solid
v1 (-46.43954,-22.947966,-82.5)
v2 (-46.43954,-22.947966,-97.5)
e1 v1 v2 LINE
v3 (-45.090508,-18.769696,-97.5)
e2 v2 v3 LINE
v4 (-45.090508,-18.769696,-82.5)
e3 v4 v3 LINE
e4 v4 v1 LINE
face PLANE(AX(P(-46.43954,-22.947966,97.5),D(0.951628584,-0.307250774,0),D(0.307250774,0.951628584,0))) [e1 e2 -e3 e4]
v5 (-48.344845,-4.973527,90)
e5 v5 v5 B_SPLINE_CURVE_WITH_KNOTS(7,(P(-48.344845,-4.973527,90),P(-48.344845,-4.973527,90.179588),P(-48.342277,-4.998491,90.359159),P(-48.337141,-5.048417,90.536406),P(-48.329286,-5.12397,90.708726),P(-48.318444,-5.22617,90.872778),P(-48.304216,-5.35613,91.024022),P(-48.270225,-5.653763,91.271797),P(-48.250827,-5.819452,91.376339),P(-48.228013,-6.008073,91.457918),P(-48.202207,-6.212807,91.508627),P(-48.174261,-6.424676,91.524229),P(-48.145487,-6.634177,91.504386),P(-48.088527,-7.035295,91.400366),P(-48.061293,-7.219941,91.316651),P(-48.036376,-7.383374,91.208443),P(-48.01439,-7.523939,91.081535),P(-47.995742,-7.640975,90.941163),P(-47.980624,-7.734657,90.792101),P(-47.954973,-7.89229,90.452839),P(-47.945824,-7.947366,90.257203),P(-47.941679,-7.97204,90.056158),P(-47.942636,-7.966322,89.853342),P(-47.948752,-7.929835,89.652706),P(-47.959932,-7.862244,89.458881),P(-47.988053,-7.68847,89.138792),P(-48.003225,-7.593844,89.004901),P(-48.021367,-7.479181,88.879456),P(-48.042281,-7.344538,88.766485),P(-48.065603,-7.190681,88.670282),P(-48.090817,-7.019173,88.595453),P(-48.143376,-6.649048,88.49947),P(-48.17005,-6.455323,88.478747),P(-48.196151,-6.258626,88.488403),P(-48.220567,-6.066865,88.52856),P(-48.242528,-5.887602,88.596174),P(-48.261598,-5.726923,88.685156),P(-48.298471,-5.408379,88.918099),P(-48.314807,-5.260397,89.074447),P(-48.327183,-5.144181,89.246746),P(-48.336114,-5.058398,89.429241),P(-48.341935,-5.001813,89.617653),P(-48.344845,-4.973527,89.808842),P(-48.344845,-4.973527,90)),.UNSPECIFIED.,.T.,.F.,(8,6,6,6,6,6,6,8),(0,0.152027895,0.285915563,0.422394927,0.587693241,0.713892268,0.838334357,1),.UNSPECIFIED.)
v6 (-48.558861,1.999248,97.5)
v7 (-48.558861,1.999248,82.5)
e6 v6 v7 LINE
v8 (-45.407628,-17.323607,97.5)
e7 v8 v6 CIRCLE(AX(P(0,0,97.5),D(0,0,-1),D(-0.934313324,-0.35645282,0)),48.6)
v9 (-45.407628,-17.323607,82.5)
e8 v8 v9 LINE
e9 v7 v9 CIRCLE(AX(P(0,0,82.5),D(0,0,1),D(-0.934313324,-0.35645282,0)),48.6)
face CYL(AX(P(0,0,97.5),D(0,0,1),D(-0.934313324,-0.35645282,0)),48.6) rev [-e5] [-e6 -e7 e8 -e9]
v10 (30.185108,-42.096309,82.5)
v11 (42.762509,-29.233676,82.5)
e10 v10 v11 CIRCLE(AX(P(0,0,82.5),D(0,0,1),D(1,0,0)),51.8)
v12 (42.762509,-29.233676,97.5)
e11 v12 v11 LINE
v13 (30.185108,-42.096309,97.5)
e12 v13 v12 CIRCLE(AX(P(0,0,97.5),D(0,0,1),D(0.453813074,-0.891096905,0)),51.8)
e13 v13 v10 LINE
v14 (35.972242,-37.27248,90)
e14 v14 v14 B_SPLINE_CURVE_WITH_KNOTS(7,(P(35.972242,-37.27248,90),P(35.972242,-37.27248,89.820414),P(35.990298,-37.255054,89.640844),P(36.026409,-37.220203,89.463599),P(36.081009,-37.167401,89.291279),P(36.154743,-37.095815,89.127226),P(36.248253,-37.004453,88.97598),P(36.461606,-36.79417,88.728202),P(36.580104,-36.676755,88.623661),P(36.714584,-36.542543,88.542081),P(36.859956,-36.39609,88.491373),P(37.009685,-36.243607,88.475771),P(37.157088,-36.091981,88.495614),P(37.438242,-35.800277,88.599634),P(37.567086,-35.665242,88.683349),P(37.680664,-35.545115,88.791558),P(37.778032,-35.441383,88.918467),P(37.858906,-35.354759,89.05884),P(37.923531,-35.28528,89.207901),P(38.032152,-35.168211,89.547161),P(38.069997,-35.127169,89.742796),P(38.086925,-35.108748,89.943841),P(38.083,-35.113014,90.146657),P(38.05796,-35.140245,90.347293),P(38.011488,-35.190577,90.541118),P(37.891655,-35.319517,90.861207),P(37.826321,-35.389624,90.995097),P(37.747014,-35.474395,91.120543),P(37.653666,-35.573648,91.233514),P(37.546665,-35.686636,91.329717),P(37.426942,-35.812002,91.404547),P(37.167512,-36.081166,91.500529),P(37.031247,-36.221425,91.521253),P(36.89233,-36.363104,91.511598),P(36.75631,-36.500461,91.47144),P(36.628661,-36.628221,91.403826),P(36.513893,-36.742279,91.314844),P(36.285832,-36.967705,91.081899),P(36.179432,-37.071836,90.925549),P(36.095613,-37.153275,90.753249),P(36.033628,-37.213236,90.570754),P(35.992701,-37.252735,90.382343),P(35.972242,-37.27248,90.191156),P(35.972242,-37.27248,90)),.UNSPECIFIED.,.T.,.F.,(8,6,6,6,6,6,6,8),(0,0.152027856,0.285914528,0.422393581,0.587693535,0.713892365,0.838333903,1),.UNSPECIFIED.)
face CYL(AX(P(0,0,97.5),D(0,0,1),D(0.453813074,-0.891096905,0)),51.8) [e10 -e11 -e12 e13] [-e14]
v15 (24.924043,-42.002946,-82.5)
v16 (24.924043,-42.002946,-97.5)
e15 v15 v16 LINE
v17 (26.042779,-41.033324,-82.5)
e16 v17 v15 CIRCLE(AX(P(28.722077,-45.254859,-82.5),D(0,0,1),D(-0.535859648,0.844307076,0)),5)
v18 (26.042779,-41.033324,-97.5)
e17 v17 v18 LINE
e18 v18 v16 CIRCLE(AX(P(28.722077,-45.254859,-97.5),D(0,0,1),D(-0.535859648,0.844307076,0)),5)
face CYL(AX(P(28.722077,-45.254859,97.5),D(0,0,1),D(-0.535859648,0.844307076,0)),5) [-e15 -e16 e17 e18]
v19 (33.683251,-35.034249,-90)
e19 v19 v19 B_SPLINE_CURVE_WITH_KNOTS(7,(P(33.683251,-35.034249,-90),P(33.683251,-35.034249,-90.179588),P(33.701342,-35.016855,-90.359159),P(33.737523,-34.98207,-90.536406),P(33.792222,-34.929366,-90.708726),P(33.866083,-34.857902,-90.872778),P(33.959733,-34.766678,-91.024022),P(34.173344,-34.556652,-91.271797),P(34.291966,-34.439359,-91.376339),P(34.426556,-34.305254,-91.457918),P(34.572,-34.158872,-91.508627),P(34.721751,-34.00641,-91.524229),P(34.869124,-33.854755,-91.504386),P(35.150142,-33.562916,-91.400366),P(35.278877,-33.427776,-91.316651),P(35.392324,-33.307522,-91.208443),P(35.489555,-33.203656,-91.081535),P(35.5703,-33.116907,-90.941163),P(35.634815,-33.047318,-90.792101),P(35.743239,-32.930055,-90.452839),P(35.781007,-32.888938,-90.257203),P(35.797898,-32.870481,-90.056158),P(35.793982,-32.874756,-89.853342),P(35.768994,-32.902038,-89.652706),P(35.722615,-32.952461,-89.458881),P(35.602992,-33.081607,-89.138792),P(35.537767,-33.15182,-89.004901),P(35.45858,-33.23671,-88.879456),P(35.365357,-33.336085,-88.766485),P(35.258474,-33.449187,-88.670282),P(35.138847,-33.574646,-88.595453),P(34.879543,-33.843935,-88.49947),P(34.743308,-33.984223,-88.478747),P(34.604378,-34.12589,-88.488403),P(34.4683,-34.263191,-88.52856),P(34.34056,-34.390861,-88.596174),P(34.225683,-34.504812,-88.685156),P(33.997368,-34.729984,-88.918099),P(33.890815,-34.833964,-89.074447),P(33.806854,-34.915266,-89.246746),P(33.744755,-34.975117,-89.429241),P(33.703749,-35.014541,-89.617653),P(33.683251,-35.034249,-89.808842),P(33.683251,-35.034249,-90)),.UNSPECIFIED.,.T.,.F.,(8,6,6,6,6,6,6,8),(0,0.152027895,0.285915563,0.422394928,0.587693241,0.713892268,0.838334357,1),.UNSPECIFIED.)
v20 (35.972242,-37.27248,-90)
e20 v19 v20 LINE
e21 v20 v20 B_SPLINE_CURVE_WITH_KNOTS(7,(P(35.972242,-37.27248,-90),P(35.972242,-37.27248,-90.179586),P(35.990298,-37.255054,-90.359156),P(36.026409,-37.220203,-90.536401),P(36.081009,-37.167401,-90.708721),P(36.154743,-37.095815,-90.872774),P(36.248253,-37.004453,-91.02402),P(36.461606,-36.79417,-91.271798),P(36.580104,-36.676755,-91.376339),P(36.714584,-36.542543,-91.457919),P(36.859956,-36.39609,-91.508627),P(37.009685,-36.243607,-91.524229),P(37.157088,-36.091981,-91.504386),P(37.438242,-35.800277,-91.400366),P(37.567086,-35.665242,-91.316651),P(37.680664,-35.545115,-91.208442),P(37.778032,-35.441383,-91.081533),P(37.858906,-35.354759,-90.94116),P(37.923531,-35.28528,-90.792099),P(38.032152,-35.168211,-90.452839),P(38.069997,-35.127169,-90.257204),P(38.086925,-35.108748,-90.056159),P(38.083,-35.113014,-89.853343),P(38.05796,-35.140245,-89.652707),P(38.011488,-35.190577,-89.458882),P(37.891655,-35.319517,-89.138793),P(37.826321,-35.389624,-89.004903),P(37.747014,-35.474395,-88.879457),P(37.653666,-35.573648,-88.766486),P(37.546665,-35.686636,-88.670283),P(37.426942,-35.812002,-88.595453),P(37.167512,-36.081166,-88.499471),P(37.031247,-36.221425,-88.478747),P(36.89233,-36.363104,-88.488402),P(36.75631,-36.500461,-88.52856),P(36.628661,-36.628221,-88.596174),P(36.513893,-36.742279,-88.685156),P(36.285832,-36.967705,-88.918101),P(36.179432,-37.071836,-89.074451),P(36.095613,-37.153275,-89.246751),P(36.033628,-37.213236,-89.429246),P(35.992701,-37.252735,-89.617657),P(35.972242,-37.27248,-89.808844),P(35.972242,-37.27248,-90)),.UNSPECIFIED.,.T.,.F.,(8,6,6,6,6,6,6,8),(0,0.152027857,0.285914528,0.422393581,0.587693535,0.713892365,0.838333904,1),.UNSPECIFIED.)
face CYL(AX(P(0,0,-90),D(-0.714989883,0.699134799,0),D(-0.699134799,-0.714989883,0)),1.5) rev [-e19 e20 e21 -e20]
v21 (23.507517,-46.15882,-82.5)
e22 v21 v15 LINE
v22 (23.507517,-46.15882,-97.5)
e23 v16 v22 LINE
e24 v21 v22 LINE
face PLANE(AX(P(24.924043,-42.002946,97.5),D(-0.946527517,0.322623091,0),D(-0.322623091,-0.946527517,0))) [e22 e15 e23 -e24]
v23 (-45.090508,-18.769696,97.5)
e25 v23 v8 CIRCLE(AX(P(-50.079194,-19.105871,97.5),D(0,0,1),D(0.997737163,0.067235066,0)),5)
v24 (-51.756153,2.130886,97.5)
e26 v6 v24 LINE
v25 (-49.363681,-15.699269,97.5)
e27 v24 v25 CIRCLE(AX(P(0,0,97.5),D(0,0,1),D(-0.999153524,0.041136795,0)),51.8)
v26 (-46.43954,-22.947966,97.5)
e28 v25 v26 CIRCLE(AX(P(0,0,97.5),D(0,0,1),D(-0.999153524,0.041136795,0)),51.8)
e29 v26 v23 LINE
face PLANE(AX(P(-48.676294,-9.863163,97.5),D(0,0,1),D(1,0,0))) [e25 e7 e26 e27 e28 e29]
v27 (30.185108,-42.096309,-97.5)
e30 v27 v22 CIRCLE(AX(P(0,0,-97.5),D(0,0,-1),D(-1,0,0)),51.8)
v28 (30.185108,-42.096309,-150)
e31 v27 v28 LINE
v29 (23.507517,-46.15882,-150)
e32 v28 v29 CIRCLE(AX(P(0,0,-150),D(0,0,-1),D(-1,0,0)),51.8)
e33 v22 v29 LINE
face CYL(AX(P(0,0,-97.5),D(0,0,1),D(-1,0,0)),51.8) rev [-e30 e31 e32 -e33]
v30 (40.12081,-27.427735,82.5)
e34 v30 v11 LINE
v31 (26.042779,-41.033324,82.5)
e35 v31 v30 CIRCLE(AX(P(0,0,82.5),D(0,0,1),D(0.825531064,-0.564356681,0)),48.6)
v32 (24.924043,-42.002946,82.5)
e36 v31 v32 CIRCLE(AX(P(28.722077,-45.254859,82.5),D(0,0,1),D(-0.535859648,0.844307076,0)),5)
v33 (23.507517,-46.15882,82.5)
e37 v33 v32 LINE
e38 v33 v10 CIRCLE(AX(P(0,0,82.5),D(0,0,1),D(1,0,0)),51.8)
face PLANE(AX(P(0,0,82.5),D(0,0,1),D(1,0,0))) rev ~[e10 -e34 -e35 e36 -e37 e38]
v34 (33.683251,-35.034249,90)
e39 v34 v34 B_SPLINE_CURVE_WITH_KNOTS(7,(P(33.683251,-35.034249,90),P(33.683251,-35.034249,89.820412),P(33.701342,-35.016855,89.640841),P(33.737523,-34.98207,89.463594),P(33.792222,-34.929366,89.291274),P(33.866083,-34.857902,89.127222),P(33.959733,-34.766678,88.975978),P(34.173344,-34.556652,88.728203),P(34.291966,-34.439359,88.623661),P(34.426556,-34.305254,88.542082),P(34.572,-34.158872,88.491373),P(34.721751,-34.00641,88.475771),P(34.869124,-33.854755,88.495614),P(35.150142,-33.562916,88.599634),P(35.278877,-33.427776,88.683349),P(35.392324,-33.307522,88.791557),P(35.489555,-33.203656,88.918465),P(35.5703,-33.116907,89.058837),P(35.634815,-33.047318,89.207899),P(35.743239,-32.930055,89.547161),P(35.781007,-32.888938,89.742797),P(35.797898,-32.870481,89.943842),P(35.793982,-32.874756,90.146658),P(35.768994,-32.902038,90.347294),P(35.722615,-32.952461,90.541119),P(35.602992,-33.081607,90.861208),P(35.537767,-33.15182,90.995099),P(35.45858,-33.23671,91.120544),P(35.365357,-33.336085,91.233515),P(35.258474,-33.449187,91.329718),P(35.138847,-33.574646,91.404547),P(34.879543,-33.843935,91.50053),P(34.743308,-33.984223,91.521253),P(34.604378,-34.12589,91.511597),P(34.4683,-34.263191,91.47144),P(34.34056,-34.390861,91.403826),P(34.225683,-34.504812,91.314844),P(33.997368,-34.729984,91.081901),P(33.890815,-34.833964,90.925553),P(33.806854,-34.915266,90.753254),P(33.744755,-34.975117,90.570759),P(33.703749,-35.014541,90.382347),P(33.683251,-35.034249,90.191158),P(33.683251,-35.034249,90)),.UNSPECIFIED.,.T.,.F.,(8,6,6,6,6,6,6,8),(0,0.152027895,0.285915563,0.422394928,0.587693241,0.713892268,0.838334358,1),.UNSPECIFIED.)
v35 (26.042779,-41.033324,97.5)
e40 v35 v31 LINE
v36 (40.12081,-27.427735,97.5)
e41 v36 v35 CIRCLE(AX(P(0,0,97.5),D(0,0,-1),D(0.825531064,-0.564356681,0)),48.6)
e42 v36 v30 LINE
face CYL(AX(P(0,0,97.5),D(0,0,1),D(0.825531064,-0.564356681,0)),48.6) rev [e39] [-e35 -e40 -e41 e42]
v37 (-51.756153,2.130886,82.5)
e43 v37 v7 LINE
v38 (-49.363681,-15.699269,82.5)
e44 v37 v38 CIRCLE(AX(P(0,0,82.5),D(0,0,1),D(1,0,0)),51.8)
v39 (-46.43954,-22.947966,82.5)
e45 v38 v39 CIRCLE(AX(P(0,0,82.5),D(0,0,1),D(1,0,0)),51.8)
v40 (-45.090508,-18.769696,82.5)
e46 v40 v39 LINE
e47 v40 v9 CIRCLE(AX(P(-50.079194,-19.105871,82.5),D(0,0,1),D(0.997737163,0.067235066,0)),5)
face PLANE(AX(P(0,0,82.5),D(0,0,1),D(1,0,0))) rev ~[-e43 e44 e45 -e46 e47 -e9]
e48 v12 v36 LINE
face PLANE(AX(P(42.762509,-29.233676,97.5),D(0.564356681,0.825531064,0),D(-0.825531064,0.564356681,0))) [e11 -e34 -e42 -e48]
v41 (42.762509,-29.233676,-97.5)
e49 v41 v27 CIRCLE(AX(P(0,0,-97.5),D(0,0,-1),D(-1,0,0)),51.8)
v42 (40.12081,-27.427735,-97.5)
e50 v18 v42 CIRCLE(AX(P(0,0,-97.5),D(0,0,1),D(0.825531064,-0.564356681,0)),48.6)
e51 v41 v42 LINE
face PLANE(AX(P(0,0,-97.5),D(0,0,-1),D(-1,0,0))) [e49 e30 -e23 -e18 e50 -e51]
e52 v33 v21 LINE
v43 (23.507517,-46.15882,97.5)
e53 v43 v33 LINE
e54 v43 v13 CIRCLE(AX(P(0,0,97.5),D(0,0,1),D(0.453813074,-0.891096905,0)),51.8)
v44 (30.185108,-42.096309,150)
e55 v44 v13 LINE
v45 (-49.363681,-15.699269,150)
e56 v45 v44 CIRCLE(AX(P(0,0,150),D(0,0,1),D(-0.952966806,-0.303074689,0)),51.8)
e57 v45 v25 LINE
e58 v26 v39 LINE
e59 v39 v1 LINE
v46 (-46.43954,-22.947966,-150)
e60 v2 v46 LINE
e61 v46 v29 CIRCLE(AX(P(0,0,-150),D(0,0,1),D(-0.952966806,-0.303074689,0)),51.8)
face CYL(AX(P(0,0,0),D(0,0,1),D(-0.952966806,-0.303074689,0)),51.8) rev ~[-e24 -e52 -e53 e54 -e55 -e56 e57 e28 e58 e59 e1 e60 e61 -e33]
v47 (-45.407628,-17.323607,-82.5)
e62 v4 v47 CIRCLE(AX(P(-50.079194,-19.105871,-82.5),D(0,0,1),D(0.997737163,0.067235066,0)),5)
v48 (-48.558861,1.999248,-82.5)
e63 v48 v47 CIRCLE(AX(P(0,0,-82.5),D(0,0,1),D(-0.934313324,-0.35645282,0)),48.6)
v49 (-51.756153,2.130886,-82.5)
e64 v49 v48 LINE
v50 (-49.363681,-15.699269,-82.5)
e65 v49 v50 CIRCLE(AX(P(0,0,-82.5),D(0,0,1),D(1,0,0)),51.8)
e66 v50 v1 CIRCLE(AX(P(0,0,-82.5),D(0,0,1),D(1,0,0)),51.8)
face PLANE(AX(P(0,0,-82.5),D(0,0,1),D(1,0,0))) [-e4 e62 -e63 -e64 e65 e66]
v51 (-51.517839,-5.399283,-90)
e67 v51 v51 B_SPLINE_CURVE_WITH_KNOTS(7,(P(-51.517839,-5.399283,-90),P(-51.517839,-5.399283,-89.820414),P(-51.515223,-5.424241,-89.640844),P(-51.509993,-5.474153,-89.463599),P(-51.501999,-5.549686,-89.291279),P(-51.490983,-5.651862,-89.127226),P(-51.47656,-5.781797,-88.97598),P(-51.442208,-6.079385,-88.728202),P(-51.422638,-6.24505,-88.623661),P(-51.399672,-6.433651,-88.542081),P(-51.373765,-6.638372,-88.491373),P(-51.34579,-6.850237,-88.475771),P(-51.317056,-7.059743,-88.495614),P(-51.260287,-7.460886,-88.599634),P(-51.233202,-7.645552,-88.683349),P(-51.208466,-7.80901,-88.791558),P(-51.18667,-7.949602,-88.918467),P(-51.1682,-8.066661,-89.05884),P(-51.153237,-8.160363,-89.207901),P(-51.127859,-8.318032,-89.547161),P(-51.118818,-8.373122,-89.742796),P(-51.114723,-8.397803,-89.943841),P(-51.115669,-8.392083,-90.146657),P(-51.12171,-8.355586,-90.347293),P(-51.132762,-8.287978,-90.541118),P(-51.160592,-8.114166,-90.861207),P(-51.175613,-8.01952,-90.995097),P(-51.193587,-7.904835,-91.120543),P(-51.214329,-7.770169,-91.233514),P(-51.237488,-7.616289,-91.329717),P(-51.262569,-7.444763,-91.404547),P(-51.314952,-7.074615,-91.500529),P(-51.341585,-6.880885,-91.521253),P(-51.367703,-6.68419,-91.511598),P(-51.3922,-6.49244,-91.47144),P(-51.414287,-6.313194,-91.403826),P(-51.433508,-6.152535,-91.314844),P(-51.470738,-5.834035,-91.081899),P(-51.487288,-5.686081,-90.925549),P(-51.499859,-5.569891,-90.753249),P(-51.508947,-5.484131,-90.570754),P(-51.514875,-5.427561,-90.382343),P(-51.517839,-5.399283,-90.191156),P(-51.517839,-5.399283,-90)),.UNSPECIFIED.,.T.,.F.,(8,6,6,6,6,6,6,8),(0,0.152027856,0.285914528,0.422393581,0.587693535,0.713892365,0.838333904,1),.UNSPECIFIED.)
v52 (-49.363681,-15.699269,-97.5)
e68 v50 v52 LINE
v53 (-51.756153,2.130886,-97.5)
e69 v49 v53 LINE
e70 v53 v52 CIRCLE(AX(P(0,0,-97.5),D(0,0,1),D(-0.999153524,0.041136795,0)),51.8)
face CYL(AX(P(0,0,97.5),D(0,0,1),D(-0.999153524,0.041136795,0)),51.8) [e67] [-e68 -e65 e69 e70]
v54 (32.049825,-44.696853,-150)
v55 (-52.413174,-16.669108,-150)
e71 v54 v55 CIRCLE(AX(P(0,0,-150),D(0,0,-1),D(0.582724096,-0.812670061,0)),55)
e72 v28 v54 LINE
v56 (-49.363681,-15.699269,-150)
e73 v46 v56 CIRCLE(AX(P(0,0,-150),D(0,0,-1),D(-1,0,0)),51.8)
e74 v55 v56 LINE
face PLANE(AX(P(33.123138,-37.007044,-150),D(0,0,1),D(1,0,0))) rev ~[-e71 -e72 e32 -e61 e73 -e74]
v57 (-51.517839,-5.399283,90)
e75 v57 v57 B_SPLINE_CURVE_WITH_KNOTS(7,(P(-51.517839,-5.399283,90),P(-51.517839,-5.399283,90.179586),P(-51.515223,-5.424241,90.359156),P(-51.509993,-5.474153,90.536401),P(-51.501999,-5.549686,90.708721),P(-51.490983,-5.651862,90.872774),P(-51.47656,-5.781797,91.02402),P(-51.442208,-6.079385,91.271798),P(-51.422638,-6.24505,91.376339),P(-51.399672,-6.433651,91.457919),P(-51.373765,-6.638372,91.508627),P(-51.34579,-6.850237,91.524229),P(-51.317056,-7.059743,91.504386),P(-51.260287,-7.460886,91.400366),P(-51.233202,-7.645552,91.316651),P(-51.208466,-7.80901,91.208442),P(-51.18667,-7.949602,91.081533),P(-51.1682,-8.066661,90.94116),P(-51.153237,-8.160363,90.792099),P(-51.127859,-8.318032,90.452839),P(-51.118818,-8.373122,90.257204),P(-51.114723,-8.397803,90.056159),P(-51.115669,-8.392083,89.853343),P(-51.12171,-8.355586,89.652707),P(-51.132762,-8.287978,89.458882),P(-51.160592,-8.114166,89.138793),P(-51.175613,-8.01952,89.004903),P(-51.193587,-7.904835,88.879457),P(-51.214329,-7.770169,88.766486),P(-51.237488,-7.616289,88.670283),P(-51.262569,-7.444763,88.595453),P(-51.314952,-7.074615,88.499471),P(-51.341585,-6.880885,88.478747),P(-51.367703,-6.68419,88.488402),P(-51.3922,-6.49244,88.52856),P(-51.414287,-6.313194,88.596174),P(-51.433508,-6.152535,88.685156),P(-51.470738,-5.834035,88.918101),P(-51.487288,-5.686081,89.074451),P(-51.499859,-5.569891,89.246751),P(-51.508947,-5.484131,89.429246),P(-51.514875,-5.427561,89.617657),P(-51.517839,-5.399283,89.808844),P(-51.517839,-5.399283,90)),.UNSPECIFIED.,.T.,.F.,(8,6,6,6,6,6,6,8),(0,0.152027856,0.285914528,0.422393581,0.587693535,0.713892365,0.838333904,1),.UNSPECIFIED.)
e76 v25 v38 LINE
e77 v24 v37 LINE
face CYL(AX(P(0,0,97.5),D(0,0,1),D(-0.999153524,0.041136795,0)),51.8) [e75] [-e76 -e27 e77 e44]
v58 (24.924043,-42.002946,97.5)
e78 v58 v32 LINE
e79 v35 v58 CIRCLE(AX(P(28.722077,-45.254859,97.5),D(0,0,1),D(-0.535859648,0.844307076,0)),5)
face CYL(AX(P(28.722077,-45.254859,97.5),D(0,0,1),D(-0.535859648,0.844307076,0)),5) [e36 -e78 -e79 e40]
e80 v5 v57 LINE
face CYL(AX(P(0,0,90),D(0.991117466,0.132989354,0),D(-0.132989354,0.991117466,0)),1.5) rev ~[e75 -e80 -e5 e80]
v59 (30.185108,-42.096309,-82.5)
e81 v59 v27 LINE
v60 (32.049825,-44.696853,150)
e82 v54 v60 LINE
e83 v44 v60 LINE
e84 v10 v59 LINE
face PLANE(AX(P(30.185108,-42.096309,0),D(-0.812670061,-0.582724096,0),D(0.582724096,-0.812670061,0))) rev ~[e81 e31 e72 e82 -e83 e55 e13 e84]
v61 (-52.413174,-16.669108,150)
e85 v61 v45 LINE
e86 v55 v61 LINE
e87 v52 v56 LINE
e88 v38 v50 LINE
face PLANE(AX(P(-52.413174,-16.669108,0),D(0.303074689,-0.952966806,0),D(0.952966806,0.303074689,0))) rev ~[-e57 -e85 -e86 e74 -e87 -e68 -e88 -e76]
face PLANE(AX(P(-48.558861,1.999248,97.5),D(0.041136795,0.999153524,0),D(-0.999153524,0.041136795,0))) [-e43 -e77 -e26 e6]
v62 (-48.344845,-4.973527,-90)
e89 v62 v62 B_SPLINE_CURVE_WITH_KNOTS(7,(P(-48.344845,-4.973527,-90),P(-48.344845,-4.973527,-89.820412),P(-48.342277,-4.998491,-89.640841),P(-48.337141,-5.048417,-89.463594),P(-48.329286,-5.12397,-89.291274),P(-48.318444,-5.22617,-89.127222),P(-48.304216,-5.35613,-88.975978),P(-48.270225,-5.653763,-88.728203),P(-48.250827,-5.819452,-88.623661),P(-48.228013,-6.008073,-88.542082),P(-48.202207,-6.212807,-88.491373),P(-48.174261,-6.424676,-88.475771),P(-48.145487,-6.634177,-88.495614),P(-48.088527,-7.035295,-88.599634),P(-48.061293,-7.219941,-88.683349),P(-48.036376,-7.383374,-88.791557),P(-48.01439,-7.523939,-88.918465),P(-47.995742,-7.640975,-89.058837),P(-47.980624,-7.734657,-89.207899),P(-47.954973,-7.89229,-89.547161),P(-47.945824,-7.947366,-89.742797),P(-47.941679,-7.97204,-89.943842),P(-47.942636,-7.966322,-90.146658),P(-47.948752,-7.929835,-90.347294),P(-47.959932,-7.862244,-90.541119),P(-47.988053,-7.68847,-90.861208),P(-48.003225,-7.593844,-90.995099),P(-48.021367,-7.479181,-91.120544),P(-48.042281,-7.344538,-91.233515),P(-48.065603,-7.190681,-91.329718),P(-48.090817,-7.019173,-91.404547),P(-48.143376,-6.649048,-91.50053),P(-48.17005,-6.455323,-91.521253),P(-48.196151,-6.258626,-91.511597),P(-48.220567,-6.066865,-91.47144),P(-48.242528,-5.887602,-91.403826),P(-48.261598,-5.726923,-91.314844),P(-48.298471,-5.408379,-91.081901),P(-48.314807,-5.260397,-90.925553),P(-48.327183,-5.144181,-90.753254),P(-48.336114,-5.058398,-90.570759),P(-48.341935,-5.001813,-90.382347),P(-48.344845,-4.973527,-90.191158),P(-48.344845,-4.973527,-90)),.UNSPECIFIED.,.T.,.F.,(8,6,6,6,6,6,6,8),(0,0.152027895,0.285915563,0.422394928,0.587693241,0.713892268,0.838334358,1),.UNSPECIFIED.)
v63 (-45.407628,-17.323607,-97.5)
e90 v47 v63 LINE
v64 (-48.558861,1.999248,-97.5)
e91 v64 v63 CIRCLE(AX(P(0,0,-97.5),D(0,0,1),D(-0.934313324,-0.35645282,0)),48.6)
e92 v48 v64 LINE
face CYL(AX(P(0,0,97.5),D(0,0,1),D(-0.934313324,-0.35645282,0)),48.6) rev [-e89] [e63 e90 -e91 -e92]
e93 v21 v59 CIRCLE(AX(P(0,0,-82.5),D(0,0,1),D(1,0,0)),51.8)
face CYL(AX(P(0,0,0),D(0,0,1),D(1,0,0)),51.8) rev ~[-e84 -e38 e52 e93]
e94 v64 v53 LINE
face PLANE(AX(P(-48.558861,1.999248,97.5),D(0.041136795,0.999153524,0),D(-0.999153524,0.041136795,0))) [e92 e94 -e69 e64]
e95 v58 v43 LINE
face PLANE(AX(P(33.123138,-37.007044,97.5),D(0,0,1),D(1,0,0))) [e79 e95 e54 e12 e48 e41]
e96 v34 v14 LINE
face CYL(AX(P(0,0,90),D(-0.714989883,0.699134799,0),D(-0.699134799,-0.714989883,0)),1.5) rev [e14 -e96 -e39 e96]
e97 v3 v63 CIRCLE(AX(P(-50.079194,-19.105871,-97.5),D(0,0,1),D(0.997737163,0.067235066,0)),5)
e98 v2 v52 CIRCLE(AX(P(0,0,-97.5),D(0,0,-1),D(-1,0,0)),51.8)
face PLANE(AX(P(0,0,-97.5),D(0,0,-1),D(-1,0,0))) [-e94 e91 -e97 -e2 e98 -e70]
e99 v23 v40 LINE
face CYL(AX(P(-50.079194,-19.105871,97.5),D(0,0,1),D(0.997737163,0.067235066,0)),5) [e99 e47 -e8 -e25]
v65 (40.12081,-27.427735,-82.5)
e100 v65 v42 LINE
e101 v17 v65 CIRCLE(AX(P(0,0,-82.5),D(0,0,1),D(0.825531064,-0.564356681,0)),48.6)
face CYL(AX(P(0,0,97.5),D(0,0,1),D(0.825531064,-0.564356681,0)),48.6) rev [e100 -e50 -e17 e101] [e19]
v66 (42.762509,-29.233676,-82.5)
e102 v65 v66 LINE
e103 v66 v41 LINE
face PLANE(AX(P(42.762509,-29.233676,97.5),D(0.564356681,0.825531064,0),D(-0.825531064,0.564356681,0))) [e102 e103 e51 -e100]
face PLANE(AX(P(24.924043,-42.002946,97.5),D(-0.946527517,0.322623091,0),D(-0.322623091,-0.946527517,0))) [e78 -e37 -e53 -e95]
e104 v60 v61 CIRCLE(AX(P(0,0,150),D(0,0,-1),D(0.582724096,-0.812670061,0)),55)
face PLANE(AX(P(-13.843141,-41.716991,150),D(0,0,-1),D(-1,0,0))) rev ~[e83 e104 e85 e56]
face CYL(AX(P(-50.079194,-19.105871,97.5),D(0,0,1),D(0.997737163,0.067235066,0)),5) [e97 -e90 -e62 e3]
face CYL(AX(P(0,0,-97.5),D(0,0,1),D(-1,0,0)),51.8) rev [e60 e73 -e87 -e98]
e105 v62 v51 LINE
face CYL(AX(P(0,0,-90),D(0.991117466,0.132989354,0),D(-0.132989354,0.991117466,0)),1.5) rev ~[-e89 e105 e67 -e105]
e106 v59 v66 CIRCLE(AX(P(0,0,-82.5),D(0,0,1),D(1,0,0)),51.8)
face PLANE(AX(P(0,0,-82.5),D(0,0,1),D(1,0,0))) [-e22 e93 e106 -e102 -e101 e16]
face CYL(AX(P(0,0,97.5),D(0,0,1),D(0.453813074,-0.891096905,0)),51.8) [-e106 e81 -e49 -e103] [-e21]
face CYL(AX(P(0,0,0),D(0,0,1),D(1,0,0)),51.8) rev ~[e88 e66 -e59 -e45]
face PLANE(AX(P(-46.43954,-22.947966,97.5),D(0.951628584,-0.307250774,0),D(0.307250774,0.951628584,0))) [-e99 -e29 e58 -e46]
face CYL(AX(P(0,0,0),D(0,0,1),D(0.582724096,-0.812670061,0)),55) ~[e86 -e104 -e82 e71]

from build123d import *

# Parameters (mm, degrees)
EXTRUDE_1_DEPTH     = 150
EXTRUDE_START       = -247.5
EXTRUDE_2_DEPTH     = 247.5
CUT_EXTRUDE_START   = -52.5
SKETCH_3_R          = 51.8
CUT_EXTRUDE_1_DEPTH = 52.5
SKETCH_4_R          = 51.8
CUT_EXTRUDE_2_DEPTH = 82.5
SKETCH_6_R          = 1.5
CUT_EXTRUDE_3_DEPTH = 165
SKETCH_7_R          = 1.5
CUT_EXTRUDE_4_DEPTH = 165


with BuildPart() as part:
    # 草图1 → 凸台-拉伸1 (new, symmetric)
    with BuildSketch(Plane.XY):
        with BuildLine():
            Line((-52.413174316, -16.669107897), (-49.363680538, -15.699268892))
            ThreePointArc((-49.363680538, -15.699268892), (-16.314268086, -49.163855187), (30.185108172, -42.096309157))
            Line((30.185108172, -42.096309157), (32.049825279, -44.696853352))
            ThreePointArc((32.049825279, -44.696853352), (-17.322099319, -52.201004542), (-52.413174316, -16.669107897))
        make_face()
    extrude(amount=EXTRUDE_1_DEPTH, both=True)

    # 草图2 → 凸台-拉伸2 (add)
    with BuildSketch(Plane(origin=(0, 0, -150), x_dir=(-1, 0, 0), z_dir=(0, 0, -1)).offset(EXTRUDE_START)):
        with BuildLine():
            Line((-24.924043095, -42.002946324), (-23.507517235, -46.158819671))
            ThreePointArc((-23.507517235, -46.158819671), (-34.198599667, -38.906243468), (-42.762509098, -29.233676054))
            Line((-42.762509098, -29.233676054), (-40.120809695, -27.427734676))
            ThreePointArc((-40.120809695, -27.427734676), (-33.774000748, -34.946772003), (-26.042778843, -41.033323898))
            ThreePointArc((-26.042778843, -41.033323898), (-25.447325167, -41.476499857), (-24.924043095, -42.002946324))
        make_face()
        with BuildLine():
            Line((48.558861257, 1.99924822), (51.756152533, 2.130885963))
            ThreePointArc((51.756152533, 2.130885963), (50.673816706, -10.742639362), (46.439539695, -22.947966205))
            Line((46.439539695, -22.947966205), (45.090508335, -18.769695848))
            ThreePointArc((45.090508335, -18.769695848), (45.195249795, -18.034849445), (45.40762753, -17.323607076))
            ThreePointArc((45.40762753, -17.323607076), (47.966326083, -7.822503569), (48.558861257, 1.99924822))
        make_face()
    extrude(amount=EXTRUDE_2_DEPTH)

    # 草图3 → 切除-拉伸1 (cut)
    with BuildSketch(Plane(origin=(0, 0, -150), x_dir=(-1, 0, 0), z_dir=(0, 0, -1)).offset(CUT_EXTRUDE_START)):
        Circle(SKETCH_3_R)
    extrude(amount=CUT_EXTRUDE_1_DEPTH, mode=Mode.SUBTRACT)

    # 草图4 → 切除-拉伸2 (cut, symmetric)
    with BuildSketch(Plane.XY):
        Circle(SKETCH_4_R)
    extrude(amount=CUT_EXTRUDE_2_DEPTH, both=True, mode=Mode.SUBTRACT)

    # 草图6 → 切除-拉伸3 (cut)
    with BuildSketch(Plane(origin=(0, 0, 0), x_dir=(-0.6991347993064156, -0.7149898827247683, 0), z_dir=(0.7149898827247683, -0.6991347993064156, 0))):
        with Locations((0, 90)):
            Circle(SKETCH_6_R)
        with Locations((0, -90)):
            Circle(SKETCH_6_R)
    extrude(amount=CUT_EXTRUDE_3_DEPTH, mode=Mode.SUBTRACT)

    # 草图7 → 切除-拉伸4 (cut)
    with BuildSketch(Plane(origin=(0, 0, 0), x_dir=(0.13298935431462466, -0.991117466115384, 0), z_dir=(0.991117466115384, 0.13298935431462466, 0))):
        with Locations(Location((0, 90, 0), (0, 0, 180))):
            Circle(SKETCH_7_R)
        with Locations(Location((0, -90, 0), (0, 0, 180))):
            Circle(SKETCH_7_R)
    extrude(amount=-CUT_EXTRUDE_4_DEPTH, mode=Mode.SUBTRACT)


solid = part.part
